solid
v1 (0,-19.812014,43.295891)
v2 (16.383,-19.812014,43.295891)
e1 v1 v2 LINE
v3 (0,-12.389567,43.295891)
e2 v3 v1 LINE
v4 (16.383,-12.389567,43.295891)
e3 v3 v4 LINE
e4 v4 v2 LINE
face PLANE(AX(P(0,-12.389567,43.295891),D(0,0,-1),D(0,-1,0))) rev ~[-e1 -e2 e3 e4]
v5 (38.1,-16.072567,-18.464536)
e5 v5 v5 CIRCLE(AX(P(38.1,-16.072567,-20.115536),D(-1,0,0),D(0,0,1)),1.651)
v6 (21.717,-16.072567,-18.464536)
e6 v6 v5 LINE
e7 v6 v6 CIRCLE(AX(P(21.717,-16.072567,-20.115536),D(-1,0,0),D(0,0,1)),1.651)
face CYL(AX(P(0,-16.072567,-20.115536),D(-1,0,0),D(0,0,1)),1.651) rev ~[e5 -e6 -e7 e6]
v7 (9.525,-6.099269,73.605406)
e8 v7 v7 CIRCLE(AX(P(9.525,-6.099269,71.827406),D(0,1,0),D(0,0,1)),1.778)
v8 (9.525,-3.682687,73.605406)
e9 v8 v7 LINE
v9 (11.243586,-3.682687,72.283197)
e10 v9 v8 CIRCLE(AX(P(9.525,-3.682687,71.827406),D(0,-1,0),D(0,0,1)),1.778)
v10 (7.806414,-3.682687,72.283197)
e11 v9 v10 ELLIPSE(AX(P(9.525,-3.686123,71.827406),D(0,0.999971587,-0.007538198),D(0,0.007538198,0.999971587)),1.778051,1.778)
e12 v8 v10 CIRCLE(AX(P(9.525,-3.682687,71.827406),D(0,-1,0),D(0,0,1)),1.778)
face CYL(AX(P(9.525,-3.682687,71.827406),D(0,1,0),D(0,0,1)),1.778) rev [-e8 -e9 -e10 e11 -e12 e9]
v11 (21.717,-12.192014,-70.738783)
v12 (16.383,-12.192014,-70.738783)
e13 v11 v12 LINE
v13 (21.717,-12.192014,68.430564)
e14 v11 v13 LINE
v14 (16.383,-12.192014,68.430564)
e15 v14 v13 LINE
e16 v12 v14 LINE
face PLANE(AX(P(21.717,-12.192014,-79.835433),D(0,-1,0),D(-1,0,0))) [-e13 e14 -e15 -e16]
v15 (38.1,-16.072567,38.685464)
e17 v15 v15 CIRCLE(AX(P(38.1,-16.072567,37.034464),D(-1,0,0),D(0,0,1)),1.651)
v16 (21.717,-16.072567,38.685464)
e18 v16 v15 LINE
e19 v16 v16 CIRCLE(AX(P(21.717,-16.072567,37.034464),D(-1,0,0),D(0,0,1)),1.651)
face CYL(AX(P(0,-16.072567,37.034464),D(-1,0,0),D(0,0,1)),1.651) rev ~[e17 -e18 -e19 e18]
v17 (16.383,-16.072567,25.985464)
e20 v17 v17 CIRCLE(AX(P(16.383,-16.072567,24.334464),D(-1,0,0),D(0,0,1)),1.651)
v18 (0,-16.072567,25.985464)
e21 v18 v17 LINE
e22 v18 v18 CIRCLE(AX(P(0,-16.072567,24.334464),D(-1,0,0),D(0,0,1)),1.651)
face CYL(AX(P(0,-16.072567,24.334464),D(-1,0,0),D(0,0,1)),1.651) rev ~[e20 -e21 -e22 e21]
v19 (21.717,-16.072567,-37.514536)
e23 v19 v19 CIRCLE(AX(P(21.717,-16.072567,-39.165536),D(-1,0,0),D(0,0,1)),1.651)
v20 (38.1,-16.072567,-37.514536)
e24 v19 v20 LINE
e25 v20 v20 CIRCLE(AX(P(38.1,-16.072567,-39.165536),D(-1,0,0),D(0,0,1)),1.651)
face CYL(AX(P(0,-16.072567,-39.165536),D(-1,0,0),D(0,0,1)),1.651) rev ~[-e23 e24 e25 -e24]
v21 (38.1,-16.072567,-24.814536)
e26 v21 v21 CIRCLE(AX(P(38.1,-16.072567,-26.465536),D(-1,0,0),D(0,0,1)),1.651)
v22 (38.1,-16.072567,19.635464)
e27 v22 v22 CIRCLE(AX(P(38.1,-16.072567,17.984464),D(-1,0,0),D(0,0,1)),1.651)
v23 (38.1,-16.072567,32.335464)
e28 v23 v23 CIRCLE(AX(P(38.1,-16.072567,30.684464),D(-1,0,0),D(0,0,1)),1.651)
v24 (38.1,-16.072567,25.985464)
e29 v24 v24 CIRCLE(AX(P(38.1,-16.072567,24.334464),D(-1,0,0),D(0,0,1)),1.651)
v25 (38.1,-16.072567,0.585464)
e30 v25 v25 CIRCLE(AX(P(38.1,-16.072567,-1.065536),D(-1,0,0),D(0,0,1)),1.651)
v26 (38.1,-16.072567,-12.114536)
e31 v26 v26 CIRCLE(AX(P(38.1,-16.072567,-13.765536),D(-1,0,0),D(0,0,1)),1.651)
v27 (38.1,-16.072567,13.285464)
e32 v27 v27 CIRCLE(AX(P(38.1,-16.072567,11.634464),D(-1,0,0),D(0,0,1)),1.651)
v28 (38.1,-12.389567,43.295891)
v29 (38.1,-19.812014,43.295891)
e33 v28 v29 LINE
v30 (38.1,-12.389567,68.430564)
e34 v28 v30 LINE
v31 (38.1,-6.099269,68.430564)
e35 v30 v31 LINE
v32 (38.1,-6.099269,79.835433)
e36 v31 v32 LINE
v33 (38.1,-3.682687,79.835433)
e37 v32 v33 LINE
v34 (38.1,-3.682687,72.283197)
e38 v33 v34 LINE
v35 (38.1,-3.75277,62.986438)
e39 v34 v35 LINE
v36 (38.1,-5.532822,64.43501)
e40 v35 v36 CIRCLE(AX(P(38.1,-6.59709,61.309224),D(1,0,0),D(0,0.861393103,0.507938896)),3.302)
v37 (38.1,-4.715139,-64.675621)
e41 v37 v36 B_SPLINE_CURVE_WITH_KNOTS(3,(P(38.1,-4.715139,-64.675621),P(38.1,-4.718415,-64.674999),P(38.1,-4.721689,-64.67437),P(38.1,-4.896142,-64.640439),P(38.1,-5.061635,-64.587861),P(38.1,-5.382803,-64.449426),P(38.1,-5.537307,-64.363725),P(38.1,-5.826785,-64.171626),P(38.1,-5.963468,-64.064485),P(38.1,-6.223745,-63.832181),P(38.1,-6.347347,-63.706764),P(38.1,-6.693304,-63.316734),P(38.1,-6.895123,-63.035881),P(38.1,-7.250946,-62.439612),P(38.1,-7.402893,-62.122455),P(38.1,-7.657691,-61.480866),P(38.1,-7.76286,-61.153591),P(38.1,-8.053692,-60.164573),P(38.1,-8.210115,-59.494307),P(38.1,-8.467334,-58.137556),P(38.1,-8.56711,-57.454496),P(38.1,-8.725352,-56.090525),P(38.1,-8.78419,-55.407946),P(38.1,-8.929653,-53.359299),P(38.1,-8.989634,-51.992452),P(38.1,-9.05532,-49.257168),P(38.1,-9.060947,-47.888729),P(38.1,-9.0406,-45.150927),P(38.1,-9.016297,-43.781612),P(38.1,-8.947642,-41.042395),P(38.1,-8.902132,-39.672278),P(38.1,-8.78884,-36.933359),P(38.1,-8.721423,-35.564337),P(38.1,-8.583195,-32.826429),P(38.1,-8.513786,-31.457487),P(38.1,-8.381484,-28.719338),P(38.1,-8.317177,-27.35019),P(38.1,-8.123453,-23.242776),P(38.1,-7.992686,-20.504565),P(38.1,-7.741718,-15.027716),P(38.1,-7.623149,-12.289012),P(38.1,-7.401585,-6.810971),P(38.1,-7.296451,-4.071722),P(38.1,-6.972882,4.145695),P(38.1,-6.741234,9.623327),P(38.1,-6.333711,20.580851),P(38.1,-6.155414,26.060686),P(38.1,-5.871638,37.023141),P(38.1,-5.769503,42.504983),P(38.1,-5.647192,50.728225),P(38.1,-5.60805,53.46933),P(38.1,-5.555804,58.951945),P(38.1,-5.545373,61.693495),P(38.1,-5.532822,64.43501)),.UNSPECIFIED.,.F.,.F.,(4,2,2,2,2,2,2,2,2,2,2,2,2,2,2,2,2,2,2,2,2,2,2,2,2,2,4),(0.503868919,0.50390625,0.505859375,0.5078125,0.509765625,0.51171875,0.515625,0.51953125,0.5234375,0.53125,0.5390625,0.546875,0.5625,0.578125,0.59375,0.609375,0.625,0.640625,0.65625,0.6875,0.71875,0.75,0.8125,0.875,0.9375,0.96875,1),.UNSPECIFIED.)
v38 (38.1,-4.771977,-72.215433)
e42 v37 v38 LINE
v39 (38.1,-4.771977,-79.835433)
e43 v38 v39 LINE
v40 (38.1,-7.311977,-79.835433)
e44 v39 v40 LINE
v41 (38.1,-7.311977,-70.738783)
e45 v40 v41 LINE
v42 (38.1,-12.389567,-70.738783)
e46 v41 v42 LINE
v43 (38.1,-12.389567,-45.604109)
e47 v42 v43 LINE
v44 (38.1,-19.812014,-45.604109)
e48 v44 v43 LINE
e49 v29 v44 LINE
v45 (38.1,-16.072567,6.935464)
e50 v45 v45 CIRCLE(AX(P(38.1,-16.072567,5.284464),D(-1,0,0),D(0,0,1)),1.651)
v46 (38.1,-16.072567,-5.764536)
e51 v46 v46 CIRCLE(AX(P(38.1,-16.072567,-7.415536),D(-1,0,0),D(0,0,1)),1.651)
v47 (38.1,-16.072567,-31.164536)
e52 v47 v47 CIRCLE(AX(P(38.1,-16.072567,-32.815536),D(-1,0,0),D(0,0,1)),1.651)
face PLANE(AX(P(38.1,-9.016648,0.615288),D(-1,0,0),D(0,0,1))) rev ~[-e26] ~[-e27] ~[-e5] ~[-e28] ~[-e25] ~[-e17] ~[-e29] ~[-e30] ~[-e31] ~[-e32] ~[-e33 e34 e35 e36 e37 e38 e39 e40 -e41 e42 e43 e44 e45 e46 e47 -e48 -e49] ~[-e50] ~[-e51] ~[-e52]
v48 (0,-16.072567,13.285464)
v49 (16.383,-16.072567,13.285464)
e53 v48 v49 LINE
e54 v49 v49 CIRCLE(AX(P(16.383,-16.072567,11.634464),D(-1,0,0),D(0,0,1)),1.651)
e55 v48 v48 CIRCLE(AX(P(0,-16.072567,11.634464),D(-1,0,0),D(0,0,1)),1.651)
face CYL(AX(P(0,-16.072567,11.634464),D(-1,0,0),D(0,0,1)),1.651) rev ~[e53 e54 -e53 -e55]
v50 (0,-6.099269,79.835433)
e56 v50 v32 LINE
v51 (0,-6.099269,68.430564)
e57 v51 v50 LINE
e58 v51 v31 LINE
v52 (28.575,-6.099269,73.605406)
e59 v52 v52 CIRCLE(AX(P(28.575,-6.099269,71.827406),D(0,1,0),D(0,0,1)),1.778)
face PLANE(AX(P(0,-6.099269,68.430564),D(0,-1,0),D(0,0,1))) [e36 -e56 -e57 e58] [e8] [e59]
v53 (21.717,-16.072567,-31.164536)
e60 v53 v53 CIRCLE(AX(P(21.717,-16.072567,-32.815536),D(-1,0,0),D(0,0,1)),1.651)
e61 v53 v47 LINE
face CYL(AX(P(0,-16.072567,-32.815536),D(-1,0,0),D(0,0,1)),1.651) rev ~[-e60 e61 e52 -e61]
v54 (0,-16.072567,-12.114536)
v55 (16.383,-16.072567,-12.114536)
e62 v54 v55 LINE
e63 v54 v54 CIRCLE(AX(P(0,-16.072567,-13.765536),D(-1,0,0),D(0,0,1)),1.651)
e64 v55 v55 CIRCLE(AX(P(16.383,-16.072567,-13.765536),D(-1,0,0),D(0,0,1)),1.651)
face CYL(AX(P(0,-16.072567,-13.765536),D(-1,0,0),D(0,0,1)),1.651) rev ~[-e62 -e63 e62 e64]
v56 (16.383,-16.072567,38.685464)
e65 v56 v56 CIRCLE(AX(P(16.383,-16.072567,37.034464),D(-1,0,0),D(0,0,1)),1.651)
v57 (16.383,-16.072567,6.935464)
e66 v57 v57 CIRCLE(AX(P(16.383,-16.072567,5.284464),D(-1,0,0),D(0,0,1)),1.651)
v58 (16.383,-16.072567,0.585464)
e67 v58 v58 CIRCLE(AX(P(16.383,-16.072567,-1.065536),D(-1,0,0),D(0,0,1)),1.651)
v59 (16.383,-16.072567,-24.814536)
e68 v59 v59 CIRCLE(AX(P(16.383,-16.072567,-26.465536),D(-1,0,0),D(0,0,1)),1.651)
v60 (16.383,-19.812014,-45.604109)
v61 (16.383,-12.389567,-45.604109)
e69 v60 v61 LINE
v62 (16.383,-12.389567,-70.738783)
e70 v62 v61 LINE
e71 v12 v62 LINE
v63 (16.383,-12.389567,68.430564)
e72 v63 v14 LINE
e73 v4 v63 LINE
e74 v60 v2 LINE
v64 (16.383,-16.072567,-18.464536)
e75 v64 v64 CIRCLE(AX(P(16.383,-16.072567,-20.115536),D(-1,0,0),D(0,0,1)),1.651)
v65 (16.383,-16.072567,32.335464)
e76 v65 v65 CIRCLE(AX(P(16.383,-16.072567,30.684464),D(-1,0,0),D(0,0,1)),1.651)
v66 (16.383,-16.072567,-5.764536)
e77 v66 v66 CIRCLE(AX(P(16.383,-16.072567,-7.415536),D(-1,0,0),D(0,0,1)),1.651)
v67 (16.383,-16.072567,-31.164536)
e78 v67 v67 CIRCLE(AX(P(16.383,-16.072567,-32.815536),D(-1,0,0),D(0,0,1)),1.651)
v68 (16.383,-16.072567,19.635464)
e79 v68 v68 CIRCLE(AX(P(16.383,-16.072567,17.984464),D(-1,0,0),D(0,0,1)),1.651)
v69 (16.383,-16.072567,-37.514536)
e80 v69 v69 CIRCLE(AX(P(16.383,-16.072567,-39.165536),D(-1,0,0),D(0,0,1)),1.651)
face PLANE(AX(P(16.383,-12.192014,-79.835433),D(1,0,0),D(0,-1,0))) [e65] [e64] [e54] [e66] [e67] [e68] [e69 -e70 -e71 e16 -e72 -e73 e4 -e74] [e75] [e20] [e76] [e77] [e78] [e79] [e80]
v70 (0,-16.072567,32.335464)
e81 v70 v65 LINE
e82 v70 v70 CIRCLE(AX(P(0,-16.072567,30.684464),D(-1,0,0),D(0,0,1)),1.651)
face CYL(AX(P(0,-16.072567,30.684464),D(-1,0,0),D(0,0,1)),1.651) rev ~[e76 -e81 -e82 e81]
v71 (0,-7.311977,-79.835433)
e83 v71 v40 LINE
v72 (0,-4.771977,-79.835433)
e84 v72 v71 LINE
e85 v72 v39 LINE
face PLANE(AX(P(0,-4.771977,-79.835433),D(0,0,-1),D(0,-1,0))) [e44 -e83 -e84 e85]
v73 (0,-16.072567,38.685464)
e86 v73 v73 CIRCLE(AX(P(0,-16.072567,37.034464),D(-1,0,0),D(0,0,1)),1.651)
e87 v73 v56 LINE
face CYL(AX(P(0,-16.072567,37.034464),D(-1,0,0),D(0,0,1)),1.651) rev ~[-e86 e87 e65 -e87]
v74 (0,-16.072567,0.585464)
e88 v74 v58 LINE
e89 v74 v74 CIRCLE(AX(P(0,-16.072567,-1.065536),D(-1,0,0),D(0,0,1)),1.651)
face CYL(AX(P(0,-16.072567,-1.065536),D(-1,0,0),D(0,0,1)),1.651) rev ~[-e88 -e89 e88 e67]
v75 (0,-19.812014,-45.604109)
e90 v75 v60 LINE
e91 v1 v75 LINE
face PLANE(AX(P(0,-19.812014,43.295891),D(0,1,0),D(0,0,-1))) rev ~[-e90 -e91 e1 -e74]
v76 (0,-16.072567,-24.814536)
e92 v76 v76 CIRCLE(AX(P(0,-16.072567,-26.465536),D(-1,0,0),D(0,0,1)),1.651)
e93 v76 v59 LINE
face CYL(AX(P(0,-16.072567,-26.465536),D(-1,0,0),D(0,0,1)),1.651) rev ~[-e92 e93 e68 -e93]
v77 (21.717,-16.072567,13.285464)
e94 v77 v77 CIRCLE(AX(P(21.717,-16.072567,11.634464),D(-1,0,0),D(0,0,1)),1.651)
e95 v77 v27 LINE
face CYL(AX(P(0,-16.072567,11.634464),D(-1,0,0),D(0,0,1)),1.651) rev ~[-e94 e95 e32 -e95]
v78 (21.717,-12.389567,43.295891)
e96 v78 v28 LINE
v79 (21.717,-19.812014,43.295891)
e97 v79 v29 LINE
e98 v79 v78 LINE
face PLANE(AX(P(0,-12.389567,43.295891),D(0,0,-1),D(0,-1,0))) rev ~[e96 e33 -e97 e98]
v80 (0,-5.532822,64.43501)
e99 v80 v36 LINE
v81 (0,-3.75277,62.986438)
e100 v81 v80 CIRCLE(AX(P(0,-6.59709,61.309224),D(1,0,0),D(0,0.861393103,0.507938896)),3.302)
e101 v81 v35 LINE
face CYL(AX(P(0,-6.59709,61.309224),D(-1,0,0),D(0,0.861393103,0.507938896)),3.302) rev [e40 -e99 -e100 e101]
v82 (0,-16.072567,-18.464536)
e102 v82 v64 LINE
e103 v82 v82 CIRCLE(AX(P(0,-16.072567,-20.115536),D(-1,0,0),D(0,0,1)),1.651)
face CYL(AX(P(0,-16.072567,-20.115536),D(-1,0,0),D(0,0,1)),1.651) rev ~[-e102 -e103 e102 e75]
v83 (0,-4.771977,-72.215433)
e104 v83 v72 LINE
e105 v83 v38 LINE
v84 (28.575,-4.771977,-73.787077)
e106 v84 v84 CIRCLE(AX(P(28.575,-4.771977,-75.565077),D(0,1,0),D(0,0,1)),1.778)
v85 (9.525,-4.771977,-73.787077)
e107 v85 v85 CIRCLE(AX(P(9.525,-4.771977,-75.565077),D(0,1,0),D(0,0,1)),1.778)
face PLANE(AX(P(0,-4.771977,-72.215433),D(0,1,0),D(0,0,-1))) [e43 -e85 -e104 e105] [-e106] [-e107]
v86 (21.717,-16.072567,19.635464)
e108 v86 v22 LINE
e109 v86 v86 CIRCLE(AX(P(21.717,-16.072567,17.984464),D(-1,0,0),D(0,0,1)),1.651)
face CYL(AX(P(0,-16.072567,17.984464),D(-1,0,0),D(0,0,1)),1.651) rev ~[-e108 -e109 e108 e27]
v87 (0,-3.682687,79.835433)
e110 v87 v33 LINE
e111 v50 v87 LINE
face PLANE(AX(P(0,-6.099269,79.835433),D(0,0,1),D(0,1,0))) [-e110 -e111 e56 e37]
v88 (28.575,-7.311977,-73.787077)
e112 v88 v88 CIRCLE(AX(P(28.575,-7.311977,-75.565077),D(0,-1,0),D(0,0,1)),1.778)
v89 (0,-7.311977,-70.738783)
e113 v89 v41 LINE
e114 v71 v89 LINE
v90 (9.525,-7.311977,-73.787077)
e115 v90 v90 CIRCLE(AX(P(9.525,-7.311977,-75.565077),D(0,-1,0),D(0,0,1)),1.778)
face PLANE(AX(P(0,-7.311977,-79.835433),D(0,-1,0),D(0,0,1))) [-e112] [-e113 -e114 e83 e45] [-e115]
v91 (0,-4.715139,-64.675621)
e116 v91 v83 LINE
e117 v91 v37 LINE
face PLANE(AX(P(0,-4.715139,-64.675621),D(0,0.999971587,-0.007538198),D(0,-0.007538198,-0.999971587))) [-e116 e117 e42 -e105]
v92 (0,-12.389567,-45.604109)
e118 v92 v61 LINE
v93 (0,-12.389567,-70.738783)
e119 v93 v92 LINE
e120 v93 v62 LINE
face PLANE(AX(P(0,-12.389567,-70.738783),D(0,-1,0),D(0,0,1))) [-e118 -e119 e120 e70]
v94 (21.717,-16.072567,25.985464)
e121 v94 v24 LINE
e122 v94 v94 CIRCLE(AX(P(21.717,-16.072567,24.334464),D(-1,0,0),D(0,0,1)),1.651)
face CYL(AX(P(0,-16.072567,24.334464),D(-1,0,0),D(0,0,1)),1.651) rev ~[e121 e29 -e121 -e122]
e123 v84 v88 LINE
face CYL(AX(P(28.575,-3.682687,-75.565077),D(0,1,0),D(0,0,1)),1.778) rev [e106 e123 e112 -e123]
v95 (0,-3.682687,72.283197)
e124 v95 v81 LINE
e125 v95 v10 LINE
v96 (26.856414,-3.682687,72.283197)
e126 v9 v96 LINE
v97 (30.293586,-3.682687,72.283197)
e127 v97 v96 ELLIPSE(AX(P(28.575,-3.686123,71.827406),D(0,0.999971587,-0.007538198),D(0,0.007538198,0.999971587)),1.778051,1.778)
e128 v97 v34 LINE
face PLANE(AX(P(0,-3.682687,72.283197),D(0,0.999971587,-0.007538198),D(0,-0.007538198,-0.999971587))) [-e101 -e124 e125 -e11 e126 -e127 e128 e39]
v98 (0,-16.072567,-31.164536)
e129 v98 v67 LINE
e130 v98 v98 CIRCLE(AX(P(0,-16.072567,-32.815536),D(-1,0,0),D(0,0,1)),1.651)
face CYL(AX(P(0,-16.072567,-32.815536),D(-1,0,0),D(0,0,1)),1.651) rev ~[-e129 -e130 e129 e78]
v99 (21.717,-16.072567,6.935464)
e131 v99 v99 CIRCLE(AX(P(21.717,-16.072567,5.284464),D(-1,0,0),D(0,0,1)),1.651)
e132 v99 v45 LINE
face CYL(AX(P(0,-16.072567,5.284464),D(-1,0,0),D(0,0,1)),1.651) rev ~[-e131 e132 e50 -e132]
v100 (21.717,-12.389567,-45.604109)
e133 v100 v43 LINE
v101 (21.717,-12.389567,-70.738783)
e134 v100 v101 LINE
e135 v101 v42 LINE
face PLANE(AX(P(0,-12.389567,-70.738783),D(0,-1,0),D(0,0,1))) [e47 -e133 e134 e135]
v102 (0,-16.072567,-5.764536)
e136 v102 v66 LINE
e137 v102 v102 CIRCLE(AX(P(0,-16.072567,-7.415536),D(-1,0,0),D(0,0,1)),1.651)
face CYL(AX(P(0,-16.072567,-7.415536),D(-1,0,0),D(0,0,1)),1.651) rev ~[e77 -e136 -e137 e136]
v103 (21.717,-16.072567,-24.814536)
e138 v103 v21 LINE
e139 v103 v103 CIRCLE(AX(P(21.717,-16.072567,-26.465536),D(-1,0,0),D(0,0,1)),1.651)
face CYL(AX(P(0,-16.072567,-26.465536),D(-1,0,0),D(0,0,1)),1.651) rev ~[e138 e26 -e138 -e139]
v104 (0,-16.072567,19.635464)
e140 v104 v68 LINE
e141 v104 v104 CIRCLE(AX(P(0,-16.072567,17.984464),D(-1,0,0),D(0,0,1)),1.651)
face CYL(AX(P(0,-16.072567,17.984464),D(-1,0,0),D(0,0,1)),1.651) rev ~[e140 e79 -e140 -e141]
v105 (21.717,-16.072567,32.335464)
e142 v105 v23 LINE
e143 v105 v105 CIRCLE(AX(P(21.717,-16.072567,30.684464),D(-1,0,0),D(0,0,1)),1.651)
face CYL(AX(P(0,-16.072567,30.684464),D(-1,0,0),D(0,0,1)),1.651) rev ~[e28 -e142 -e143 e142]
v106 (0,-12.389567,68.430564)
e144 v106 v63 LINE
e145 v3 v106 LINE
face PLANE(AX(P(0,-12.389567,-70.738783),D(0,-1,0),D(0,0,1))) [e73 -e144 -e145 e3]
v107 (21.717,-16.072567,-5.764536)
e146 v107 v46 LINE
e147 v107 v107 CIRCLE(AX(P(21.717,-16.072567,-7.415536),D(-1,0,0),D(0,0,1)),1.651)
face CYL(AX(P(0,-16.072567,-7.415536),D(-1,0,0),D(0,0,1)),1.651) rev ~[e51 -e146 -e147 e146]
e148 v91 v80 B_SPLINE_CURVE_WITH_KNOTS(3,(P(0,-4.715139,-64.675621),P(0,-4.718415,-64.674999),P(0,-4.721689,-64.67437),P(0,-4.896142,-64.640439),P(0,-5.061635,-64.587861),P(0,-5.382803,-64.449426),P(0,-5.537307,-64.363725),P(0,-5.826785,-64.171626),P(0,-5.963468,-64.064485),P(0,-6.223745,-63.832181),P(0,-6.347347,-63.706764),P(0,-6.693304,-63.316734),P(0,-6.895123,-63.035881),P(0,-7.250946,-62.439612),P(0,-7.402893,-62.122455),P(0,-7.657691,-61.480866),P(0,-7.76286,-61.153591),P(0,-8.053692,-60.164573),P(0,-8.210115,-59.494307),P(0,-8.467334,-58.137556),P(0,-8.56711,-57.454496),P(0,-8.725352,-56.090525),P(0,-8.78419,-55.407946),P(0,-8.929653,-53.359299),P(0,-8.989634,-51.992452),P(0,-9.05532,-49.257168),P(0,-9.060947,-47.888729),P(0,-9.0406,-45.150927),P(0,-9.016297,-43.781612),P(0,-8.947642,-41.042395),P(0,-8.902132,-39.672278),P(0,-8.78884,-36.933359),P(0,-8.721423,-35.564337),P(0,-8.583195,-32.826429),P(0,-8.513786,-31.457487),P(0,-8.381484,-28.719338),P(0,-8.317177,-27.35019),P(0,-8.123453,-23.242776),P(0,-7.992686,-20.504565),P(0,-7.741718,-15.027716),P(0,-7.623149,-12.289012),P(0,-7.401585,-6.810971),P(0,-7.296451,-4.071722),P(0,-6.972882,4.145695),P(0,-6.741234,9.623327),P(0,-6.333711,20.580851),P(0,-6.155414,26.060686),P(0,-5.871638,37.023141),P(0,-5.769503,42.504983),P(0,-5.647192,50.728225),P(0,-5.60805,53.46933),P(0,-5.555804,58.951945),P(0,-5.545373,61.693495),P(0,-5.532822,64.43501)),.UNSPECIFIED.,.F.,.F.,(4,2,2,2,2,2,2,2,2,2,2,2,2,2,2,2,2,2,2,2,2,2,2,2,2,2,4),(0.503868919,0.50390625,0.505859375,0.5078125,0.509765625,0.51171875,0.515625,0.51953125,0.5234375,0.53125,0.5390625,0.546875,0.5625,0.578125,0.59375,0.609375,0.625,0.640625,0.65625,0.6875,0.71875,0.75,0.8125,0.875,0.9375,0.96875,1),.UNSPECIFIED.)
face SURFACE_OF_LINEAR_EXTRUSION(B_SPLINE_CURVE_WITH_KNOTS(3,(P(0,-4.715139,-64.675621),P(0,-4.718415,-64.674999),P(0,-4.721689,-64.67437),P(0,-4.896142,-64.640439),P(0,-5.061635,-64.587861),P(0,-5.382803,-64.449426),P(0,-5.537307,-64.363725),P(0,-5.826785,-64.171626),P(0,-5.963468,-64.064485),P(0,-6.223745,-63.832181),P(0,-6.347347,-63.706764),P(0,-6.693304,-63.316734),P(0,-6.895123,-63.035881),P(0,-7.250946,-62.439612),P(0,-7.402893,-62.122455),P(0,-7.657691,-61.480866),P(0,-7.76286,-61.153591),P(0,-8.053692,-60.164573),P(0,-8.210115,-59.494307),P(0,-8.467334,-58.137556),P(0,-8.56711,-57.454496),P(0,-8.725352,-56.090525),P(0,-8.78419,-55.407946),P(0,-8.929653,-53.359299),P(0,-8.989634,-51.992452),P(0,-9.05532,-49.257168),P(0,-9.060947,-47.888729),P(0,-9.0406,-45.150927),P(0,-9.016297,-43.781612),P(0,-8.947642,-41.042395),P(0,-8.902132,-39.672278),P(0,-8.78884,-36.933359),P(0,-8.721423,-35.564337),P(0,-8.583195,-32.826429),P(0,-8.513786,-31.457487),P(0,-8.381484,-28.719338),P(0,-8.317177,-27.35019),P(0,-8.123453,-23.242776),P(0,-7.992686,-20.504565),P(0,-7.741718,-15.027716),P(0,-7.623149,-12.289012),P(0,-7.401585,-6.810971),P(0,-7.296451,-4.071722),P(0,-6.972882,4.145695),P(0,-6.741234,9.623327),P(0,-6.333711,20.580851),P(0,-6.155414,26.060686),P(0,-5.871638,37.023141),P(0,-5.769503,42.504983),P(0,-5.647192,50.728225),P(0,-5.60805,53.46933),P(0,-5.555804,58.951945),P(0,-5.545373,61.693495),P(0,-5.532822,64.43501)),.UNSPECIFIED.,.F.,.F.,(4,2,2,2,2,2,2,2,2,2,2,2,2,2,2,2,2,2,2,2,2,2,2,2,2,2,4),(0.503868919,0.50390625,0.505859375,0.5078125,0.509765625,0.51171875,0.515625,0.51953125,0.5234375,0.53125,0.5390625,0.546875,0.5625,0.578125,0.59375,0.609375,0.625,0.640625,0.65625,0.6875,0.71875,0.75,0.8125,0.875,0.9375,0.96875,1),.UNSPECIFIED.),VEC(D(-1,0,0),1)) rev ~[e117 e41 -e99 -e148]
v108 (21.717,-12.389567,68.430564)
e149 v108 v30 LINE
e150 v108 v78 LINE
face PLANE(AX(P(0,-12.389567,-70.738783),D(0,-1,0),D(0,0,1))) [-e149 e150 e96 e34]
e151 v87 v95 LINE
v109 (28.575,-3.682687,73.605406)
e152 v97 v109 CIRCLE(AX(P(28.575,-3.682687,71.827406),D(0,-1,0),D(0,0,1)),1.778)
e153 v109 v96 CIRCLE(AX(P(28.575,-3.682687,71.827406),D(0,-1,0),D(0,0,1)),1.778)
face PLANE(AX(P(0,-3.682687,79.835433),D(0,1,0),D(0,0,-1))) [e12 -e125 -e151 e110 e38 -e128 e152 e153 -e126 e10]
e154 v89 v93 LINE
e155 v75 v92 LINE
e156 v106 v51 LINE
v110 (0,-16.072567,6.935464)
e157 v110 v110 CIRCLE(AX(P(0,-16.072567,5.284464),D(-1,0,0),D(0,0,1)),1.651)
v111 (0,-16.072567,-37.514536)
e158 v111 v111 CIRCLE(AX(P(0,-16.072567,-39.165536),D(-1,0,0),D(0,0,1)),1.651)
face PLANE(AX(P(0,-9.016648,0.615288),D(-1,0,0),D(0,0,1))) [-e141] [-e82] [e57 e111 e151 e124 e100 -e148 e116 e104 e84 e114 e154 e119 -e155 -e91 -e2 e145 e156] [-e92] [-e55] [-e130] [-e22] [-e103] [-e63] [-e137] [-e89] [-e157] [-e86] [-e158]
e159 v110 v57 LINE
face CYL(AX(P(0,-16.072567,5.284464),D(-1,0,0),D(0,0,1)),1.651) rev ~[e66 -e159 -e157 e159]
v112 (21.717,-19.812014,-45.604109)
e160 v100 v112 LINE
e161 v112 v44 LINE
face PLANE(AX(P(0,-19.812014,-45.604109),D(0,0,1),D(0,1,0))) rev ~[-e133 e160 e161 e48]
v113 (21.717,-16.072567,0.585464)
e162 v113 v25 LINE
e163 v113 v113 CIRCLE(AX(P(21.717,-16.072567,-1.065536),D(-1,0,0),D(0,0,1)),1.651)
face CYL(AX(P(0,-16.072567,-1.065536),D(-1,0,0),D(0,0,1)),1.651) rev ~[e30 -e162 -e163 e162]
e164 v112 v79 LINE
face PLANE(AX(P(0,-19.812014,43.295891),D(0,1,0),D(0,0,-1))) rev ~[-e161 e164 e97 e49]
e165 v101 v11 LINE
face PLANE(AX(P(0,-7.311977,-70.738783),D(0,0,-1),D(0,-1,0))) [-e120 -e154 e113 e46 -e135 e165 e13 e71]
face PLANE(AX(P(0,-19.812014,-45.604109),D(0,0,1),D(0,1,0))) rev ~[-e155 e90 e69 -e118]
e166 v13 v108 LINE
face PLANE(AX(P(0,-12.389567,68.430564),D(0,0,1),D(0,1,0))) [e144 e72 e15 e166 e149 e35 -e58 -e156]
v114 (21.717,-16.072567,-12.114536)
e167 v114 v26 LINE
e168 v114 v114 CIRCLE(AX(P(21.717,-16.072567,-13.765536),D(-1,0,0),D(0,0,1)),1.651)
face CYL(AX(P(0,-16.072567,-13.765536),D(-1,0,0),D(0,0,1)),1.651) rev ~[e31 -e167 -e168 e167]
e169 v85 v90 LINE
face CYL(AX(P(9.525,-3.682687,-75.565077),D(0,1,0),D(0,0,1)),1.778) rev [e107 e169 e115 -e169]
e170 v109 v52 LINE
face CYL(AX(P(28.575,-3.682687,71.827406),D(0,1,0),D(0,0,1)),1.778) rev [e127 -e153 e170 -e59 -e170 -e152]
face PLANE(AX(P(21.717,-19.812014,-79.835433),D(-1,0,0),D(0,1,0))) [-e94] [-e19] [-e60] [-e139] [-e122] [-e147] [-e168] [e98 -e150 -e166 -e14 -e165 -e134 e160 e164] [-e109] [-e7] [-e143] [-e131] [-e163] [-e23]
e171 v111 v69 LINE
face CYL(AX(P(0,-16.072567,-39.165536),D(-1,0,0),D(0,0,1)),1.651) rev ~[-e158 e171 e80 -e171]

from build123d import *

# Parameters (mm, degrees)
BOSS_EXTRUDE1_DEPTH = 38.1
CUT_EXTRUDE1_START  = -3.62929
SKETCH3_R           = 1.778
CUT_EXTRUDE1_DEPTH  = 3.62929
SKETCH4_R           = 1.651
BOSS_EXTRUDE2_DEPTH = 38.1
CUT_EXTRUDE2_DEPTH  = 185.928


with BuildPart() as part:
    # Sketch1 → Boss-Extrude1 (new body)
    with BuildSketch(Plane(origin=(0, 0, 0), x_dir=(0, 0, -1), z_dir=(1, 0, 0))):
        with BuildLine():
            Line((72.215433049, -4.771977247), (79.835433049, -4.771977247))
            Line((79.835433049, -4.771977247), (79.835433049, -7.311977247))
            Line((79.835433049, -7.311977247), (70.738782801, -7.311977247))
            Line((70.738782801, -7.311977247), (70.738782801, -12.389567033))
            Line((70.738782801, -12.389567033), (-68.430564208, -12.389567033))
            Line((-68.430564208, -12.389567033), (-68.430564208, -6.099268824))
            Line((-68.430564208, -6.099268824), (-74.856371976, -6.099268824))
            Line((-74.856371976, -6.099268824), (-79.835433049, -6.099268824))
            Line((-79.835433049, -6.099268824), (-79.835433049, -3.682687087))
            Line((-79.835433049, -3.682687087), (-72.283197379, -3.682687087))
            Line((-72.283197379, -3.682687087), (-62.986438346, -3.752769884))
            ThreePointArc((-62.986438346, -3.752769884), (-63.870346675, -4.512898169), (-64.435010004, -5.532821827))
            add(Edge.make_bspline(
                [(64.675620781, -4.715139038), (64.674998783, -4.718415374), (64.674369605, -4.721689491), (64.640438814, -4.896142044), (64.587861308, -5.061634629), (64.449426441, -5.382802882), (64.363725162, -5.537307212), (64.17162642, -5.826785082), (64.064485069, -5.963468158), (63.83218052, -6.223745441), (63.706764404, -6.347347349), (63.31673426, -6.693304473), (63.035881098, -6.89512255), (62.439612226, -7.250945636), (62.122454544, -7.402893489), (61.480865859, -7.657691218), (61.153590873, -7.762859551), (60.16457344, -8.053692217), (59.494306502, -8.210115016), (58.137556276, -8.467333711), (57.45449622, -8.567109791), (56.090525333, -8.725352165), (55.407946102, -8.784190358), (53.359299354, -8.929652925), (51.992451836, -8.989633549), (49.257167888, -9.055319683), (47.888729178, -9.060947374), (45.150926584, -9.040600041), (43.781611648, -9.016297041), (41.042394842, -8.947642203), (39.672277986, -8.902131969), (36.933359378, -8.788840244), (35.564336613, -8.721422942), (32.8264286, -8.583195144), (31.457486551, -8.513786217), (28.719338408, -8.381483542), (27.350189587, -8.317176622), (23.242775683, -8.12345251), (20.504565285, -7.99268596), (15.027716298, -7.741718329), (12.289011598, -7.623148504), (6.810970928, -7.401585241), (4.071721736, -7.296450567), (-4.145694954, -6.97288207), (-9.623326908, -6.741233877), (-20.580851154, -6.333710524), (-26.06068615, -6.155413911), (-37.023140806, -5.871638351), (-42.504983165, -5.769502561), (-50.728224669, -5.647191595), (-53.469330363, -5.608049633), (-58.951944613, -5.555804239), (-61.693495206, -5.545373302), (-64.435010004, -5.532821827)],
                knots=[0.503868919, 0.503868919, 0.503868919, 0.503868919, 0.50390625, 0.50390625, 0.505859375, 0.505859375, 0.5078125, 0.5078125, 0.509765625, 0.509765625, 0.51171875, 0.51171875, 0.515625, 0.515625, 0.51953125, 0.51953125, 0.5234375, 0.5234375, 0.53125, 0.53125, 0.5390625, 0.5390625, 0.546875, 0.546875, 0.5625, 0.5625, 0.578125, 0.578125, 0.59375, 0.59375, 0.609375, 0.609375, 0.625, 0.625, 0.640625, 0.640625, 0.65625, 0.65625, 0.6875, 0.6875, 0.71875, 0.71875, 0.75, 0.75, 0.8125, 0.8125, 0.875, 0.875, 0.9375, 0.9375, 0.96875, 0.96875, 1, 1, 1, 1], degree=3))
            Line((64.675620781, -4.715139038), (72.215433049, -4.771977247))
        make_face()
    extrude(amount=BOSS_EXTRUDE1_DEPTH)

    # Sketch3 → Cut-Extrude1 (cut)
    with BuildSketch(Plane(origin=(0, -7.311977247, 0), x_dir=(-1, 0, 0), z_dir=(0, -1, 0)).offset(CUT_EXTRUDE1_START)):
        with Locations(Location((-9.525, -71.827406193, 0), (0, 0, 270))):
            Circle(SKETCH3_R)
        with Locations(Location((-28.575, -71.827406193, 0), (0, 0, 270))):
            Circle(SKETCH3_R)
        with Locations(Location((-28.575, 75.56507741, 0), (0, 0, 270))):
            Circle(SKETCH3_R)
        with Locations(Location((-9.525, 75.56507741, 0), (0, 0, 270))):
            Circle(SKETCH3_R)
    extrude(amount=CUT_EXTRUDE1_DEPTH, mode=Mode.SUBTRACT)

    # Sketch4 → Boss-Extrude2 (add)
    with BuildSketch(Plane.ZY):
        Polygon((-45.604109297, -19.812014108), (-45.604109297, -12.389567033), (-39.165535625, -12.389567033), (43.295890703, -12.389567033), (43.295890703, -19.812014108), align=None)
        with Locations((37.034464375, -16.072567033)):
            Circle(SKETCH4_R, mode=Mode.SUBTRACT)
        with Locations((30.684464375, -16.072567033)):
            Circle(SKETCH4_R, mode=Mode.SUBTRACT)
        with Locations((24.334464375, -16.072567033)):
            Circle(SKETCH4_R, mode=Mode.SUBTRACT)
        with Locations((17.984464375, -16.072567033)):
            Circle(SKETCH4_R, mode=Mode.SUBTRACT)
        with Locations((11.634464375, -16.072567033)):
            Circle(SKETCH4_R, mode=Mode.SUBTRACT)
        with Locations((5.284464375, -16.072567033)):
            Circle(SKETCH4_R, mode=Mode.SUBTRACT)
        with Locations((-1.065535625, -16.072567033)):
            Circle(SKETCH4_R, mode=Mode.SUBTRACT)
        with Locations((-7.415535625, -16.072567033)):
            Circle(SKETCH4_R, mode=Mode.SUBTRACT)
        with Locations((-13.765535625, -16.072567033)):
            Circle(SKETCH4_R, mode=Mode.SUBTRACT)
        with Locations((-20.115535625, -16.072567033)):
            Circle(SKETCH4_R, mode=Mode.SUBTRACT)
        with Locations((-26.465535625, -16.072567033)):
            Circle(SKETCH4_R, mode=Mode.SUBTRACT)
        with Locations((-32.815535625, -16.072567033)):
            Circle(SKETCH4_R, mode=Mode.SUBTRACT)
        with Locations((-39.165535625, -16.072567033)):
            Circle(SKETCH4_R, mode=Mode.SUBTRACT)
    extrude(amount=-BOSS_EXTRUDE2_DEPTH)

    # Sketch5 → Cut-Extrude2 (cut)
    with BuildSketch(Plane(origin=(0, 0, -79.835433049), x_dir=(-1, 0, 0), z_dir=(0, 0, -1))):
        Polygon((-19.05, -19.812014108), (-21.717, -19.812014108), (-21.717, -12.192014108), (-16.383, -12.192014108), (-16.383, -19.812014108), align=None)
    extrude(amount=-CUT_EXTRUDE2_DEPTH, mode=Mode.SUBTRACT)


solid = part.part
